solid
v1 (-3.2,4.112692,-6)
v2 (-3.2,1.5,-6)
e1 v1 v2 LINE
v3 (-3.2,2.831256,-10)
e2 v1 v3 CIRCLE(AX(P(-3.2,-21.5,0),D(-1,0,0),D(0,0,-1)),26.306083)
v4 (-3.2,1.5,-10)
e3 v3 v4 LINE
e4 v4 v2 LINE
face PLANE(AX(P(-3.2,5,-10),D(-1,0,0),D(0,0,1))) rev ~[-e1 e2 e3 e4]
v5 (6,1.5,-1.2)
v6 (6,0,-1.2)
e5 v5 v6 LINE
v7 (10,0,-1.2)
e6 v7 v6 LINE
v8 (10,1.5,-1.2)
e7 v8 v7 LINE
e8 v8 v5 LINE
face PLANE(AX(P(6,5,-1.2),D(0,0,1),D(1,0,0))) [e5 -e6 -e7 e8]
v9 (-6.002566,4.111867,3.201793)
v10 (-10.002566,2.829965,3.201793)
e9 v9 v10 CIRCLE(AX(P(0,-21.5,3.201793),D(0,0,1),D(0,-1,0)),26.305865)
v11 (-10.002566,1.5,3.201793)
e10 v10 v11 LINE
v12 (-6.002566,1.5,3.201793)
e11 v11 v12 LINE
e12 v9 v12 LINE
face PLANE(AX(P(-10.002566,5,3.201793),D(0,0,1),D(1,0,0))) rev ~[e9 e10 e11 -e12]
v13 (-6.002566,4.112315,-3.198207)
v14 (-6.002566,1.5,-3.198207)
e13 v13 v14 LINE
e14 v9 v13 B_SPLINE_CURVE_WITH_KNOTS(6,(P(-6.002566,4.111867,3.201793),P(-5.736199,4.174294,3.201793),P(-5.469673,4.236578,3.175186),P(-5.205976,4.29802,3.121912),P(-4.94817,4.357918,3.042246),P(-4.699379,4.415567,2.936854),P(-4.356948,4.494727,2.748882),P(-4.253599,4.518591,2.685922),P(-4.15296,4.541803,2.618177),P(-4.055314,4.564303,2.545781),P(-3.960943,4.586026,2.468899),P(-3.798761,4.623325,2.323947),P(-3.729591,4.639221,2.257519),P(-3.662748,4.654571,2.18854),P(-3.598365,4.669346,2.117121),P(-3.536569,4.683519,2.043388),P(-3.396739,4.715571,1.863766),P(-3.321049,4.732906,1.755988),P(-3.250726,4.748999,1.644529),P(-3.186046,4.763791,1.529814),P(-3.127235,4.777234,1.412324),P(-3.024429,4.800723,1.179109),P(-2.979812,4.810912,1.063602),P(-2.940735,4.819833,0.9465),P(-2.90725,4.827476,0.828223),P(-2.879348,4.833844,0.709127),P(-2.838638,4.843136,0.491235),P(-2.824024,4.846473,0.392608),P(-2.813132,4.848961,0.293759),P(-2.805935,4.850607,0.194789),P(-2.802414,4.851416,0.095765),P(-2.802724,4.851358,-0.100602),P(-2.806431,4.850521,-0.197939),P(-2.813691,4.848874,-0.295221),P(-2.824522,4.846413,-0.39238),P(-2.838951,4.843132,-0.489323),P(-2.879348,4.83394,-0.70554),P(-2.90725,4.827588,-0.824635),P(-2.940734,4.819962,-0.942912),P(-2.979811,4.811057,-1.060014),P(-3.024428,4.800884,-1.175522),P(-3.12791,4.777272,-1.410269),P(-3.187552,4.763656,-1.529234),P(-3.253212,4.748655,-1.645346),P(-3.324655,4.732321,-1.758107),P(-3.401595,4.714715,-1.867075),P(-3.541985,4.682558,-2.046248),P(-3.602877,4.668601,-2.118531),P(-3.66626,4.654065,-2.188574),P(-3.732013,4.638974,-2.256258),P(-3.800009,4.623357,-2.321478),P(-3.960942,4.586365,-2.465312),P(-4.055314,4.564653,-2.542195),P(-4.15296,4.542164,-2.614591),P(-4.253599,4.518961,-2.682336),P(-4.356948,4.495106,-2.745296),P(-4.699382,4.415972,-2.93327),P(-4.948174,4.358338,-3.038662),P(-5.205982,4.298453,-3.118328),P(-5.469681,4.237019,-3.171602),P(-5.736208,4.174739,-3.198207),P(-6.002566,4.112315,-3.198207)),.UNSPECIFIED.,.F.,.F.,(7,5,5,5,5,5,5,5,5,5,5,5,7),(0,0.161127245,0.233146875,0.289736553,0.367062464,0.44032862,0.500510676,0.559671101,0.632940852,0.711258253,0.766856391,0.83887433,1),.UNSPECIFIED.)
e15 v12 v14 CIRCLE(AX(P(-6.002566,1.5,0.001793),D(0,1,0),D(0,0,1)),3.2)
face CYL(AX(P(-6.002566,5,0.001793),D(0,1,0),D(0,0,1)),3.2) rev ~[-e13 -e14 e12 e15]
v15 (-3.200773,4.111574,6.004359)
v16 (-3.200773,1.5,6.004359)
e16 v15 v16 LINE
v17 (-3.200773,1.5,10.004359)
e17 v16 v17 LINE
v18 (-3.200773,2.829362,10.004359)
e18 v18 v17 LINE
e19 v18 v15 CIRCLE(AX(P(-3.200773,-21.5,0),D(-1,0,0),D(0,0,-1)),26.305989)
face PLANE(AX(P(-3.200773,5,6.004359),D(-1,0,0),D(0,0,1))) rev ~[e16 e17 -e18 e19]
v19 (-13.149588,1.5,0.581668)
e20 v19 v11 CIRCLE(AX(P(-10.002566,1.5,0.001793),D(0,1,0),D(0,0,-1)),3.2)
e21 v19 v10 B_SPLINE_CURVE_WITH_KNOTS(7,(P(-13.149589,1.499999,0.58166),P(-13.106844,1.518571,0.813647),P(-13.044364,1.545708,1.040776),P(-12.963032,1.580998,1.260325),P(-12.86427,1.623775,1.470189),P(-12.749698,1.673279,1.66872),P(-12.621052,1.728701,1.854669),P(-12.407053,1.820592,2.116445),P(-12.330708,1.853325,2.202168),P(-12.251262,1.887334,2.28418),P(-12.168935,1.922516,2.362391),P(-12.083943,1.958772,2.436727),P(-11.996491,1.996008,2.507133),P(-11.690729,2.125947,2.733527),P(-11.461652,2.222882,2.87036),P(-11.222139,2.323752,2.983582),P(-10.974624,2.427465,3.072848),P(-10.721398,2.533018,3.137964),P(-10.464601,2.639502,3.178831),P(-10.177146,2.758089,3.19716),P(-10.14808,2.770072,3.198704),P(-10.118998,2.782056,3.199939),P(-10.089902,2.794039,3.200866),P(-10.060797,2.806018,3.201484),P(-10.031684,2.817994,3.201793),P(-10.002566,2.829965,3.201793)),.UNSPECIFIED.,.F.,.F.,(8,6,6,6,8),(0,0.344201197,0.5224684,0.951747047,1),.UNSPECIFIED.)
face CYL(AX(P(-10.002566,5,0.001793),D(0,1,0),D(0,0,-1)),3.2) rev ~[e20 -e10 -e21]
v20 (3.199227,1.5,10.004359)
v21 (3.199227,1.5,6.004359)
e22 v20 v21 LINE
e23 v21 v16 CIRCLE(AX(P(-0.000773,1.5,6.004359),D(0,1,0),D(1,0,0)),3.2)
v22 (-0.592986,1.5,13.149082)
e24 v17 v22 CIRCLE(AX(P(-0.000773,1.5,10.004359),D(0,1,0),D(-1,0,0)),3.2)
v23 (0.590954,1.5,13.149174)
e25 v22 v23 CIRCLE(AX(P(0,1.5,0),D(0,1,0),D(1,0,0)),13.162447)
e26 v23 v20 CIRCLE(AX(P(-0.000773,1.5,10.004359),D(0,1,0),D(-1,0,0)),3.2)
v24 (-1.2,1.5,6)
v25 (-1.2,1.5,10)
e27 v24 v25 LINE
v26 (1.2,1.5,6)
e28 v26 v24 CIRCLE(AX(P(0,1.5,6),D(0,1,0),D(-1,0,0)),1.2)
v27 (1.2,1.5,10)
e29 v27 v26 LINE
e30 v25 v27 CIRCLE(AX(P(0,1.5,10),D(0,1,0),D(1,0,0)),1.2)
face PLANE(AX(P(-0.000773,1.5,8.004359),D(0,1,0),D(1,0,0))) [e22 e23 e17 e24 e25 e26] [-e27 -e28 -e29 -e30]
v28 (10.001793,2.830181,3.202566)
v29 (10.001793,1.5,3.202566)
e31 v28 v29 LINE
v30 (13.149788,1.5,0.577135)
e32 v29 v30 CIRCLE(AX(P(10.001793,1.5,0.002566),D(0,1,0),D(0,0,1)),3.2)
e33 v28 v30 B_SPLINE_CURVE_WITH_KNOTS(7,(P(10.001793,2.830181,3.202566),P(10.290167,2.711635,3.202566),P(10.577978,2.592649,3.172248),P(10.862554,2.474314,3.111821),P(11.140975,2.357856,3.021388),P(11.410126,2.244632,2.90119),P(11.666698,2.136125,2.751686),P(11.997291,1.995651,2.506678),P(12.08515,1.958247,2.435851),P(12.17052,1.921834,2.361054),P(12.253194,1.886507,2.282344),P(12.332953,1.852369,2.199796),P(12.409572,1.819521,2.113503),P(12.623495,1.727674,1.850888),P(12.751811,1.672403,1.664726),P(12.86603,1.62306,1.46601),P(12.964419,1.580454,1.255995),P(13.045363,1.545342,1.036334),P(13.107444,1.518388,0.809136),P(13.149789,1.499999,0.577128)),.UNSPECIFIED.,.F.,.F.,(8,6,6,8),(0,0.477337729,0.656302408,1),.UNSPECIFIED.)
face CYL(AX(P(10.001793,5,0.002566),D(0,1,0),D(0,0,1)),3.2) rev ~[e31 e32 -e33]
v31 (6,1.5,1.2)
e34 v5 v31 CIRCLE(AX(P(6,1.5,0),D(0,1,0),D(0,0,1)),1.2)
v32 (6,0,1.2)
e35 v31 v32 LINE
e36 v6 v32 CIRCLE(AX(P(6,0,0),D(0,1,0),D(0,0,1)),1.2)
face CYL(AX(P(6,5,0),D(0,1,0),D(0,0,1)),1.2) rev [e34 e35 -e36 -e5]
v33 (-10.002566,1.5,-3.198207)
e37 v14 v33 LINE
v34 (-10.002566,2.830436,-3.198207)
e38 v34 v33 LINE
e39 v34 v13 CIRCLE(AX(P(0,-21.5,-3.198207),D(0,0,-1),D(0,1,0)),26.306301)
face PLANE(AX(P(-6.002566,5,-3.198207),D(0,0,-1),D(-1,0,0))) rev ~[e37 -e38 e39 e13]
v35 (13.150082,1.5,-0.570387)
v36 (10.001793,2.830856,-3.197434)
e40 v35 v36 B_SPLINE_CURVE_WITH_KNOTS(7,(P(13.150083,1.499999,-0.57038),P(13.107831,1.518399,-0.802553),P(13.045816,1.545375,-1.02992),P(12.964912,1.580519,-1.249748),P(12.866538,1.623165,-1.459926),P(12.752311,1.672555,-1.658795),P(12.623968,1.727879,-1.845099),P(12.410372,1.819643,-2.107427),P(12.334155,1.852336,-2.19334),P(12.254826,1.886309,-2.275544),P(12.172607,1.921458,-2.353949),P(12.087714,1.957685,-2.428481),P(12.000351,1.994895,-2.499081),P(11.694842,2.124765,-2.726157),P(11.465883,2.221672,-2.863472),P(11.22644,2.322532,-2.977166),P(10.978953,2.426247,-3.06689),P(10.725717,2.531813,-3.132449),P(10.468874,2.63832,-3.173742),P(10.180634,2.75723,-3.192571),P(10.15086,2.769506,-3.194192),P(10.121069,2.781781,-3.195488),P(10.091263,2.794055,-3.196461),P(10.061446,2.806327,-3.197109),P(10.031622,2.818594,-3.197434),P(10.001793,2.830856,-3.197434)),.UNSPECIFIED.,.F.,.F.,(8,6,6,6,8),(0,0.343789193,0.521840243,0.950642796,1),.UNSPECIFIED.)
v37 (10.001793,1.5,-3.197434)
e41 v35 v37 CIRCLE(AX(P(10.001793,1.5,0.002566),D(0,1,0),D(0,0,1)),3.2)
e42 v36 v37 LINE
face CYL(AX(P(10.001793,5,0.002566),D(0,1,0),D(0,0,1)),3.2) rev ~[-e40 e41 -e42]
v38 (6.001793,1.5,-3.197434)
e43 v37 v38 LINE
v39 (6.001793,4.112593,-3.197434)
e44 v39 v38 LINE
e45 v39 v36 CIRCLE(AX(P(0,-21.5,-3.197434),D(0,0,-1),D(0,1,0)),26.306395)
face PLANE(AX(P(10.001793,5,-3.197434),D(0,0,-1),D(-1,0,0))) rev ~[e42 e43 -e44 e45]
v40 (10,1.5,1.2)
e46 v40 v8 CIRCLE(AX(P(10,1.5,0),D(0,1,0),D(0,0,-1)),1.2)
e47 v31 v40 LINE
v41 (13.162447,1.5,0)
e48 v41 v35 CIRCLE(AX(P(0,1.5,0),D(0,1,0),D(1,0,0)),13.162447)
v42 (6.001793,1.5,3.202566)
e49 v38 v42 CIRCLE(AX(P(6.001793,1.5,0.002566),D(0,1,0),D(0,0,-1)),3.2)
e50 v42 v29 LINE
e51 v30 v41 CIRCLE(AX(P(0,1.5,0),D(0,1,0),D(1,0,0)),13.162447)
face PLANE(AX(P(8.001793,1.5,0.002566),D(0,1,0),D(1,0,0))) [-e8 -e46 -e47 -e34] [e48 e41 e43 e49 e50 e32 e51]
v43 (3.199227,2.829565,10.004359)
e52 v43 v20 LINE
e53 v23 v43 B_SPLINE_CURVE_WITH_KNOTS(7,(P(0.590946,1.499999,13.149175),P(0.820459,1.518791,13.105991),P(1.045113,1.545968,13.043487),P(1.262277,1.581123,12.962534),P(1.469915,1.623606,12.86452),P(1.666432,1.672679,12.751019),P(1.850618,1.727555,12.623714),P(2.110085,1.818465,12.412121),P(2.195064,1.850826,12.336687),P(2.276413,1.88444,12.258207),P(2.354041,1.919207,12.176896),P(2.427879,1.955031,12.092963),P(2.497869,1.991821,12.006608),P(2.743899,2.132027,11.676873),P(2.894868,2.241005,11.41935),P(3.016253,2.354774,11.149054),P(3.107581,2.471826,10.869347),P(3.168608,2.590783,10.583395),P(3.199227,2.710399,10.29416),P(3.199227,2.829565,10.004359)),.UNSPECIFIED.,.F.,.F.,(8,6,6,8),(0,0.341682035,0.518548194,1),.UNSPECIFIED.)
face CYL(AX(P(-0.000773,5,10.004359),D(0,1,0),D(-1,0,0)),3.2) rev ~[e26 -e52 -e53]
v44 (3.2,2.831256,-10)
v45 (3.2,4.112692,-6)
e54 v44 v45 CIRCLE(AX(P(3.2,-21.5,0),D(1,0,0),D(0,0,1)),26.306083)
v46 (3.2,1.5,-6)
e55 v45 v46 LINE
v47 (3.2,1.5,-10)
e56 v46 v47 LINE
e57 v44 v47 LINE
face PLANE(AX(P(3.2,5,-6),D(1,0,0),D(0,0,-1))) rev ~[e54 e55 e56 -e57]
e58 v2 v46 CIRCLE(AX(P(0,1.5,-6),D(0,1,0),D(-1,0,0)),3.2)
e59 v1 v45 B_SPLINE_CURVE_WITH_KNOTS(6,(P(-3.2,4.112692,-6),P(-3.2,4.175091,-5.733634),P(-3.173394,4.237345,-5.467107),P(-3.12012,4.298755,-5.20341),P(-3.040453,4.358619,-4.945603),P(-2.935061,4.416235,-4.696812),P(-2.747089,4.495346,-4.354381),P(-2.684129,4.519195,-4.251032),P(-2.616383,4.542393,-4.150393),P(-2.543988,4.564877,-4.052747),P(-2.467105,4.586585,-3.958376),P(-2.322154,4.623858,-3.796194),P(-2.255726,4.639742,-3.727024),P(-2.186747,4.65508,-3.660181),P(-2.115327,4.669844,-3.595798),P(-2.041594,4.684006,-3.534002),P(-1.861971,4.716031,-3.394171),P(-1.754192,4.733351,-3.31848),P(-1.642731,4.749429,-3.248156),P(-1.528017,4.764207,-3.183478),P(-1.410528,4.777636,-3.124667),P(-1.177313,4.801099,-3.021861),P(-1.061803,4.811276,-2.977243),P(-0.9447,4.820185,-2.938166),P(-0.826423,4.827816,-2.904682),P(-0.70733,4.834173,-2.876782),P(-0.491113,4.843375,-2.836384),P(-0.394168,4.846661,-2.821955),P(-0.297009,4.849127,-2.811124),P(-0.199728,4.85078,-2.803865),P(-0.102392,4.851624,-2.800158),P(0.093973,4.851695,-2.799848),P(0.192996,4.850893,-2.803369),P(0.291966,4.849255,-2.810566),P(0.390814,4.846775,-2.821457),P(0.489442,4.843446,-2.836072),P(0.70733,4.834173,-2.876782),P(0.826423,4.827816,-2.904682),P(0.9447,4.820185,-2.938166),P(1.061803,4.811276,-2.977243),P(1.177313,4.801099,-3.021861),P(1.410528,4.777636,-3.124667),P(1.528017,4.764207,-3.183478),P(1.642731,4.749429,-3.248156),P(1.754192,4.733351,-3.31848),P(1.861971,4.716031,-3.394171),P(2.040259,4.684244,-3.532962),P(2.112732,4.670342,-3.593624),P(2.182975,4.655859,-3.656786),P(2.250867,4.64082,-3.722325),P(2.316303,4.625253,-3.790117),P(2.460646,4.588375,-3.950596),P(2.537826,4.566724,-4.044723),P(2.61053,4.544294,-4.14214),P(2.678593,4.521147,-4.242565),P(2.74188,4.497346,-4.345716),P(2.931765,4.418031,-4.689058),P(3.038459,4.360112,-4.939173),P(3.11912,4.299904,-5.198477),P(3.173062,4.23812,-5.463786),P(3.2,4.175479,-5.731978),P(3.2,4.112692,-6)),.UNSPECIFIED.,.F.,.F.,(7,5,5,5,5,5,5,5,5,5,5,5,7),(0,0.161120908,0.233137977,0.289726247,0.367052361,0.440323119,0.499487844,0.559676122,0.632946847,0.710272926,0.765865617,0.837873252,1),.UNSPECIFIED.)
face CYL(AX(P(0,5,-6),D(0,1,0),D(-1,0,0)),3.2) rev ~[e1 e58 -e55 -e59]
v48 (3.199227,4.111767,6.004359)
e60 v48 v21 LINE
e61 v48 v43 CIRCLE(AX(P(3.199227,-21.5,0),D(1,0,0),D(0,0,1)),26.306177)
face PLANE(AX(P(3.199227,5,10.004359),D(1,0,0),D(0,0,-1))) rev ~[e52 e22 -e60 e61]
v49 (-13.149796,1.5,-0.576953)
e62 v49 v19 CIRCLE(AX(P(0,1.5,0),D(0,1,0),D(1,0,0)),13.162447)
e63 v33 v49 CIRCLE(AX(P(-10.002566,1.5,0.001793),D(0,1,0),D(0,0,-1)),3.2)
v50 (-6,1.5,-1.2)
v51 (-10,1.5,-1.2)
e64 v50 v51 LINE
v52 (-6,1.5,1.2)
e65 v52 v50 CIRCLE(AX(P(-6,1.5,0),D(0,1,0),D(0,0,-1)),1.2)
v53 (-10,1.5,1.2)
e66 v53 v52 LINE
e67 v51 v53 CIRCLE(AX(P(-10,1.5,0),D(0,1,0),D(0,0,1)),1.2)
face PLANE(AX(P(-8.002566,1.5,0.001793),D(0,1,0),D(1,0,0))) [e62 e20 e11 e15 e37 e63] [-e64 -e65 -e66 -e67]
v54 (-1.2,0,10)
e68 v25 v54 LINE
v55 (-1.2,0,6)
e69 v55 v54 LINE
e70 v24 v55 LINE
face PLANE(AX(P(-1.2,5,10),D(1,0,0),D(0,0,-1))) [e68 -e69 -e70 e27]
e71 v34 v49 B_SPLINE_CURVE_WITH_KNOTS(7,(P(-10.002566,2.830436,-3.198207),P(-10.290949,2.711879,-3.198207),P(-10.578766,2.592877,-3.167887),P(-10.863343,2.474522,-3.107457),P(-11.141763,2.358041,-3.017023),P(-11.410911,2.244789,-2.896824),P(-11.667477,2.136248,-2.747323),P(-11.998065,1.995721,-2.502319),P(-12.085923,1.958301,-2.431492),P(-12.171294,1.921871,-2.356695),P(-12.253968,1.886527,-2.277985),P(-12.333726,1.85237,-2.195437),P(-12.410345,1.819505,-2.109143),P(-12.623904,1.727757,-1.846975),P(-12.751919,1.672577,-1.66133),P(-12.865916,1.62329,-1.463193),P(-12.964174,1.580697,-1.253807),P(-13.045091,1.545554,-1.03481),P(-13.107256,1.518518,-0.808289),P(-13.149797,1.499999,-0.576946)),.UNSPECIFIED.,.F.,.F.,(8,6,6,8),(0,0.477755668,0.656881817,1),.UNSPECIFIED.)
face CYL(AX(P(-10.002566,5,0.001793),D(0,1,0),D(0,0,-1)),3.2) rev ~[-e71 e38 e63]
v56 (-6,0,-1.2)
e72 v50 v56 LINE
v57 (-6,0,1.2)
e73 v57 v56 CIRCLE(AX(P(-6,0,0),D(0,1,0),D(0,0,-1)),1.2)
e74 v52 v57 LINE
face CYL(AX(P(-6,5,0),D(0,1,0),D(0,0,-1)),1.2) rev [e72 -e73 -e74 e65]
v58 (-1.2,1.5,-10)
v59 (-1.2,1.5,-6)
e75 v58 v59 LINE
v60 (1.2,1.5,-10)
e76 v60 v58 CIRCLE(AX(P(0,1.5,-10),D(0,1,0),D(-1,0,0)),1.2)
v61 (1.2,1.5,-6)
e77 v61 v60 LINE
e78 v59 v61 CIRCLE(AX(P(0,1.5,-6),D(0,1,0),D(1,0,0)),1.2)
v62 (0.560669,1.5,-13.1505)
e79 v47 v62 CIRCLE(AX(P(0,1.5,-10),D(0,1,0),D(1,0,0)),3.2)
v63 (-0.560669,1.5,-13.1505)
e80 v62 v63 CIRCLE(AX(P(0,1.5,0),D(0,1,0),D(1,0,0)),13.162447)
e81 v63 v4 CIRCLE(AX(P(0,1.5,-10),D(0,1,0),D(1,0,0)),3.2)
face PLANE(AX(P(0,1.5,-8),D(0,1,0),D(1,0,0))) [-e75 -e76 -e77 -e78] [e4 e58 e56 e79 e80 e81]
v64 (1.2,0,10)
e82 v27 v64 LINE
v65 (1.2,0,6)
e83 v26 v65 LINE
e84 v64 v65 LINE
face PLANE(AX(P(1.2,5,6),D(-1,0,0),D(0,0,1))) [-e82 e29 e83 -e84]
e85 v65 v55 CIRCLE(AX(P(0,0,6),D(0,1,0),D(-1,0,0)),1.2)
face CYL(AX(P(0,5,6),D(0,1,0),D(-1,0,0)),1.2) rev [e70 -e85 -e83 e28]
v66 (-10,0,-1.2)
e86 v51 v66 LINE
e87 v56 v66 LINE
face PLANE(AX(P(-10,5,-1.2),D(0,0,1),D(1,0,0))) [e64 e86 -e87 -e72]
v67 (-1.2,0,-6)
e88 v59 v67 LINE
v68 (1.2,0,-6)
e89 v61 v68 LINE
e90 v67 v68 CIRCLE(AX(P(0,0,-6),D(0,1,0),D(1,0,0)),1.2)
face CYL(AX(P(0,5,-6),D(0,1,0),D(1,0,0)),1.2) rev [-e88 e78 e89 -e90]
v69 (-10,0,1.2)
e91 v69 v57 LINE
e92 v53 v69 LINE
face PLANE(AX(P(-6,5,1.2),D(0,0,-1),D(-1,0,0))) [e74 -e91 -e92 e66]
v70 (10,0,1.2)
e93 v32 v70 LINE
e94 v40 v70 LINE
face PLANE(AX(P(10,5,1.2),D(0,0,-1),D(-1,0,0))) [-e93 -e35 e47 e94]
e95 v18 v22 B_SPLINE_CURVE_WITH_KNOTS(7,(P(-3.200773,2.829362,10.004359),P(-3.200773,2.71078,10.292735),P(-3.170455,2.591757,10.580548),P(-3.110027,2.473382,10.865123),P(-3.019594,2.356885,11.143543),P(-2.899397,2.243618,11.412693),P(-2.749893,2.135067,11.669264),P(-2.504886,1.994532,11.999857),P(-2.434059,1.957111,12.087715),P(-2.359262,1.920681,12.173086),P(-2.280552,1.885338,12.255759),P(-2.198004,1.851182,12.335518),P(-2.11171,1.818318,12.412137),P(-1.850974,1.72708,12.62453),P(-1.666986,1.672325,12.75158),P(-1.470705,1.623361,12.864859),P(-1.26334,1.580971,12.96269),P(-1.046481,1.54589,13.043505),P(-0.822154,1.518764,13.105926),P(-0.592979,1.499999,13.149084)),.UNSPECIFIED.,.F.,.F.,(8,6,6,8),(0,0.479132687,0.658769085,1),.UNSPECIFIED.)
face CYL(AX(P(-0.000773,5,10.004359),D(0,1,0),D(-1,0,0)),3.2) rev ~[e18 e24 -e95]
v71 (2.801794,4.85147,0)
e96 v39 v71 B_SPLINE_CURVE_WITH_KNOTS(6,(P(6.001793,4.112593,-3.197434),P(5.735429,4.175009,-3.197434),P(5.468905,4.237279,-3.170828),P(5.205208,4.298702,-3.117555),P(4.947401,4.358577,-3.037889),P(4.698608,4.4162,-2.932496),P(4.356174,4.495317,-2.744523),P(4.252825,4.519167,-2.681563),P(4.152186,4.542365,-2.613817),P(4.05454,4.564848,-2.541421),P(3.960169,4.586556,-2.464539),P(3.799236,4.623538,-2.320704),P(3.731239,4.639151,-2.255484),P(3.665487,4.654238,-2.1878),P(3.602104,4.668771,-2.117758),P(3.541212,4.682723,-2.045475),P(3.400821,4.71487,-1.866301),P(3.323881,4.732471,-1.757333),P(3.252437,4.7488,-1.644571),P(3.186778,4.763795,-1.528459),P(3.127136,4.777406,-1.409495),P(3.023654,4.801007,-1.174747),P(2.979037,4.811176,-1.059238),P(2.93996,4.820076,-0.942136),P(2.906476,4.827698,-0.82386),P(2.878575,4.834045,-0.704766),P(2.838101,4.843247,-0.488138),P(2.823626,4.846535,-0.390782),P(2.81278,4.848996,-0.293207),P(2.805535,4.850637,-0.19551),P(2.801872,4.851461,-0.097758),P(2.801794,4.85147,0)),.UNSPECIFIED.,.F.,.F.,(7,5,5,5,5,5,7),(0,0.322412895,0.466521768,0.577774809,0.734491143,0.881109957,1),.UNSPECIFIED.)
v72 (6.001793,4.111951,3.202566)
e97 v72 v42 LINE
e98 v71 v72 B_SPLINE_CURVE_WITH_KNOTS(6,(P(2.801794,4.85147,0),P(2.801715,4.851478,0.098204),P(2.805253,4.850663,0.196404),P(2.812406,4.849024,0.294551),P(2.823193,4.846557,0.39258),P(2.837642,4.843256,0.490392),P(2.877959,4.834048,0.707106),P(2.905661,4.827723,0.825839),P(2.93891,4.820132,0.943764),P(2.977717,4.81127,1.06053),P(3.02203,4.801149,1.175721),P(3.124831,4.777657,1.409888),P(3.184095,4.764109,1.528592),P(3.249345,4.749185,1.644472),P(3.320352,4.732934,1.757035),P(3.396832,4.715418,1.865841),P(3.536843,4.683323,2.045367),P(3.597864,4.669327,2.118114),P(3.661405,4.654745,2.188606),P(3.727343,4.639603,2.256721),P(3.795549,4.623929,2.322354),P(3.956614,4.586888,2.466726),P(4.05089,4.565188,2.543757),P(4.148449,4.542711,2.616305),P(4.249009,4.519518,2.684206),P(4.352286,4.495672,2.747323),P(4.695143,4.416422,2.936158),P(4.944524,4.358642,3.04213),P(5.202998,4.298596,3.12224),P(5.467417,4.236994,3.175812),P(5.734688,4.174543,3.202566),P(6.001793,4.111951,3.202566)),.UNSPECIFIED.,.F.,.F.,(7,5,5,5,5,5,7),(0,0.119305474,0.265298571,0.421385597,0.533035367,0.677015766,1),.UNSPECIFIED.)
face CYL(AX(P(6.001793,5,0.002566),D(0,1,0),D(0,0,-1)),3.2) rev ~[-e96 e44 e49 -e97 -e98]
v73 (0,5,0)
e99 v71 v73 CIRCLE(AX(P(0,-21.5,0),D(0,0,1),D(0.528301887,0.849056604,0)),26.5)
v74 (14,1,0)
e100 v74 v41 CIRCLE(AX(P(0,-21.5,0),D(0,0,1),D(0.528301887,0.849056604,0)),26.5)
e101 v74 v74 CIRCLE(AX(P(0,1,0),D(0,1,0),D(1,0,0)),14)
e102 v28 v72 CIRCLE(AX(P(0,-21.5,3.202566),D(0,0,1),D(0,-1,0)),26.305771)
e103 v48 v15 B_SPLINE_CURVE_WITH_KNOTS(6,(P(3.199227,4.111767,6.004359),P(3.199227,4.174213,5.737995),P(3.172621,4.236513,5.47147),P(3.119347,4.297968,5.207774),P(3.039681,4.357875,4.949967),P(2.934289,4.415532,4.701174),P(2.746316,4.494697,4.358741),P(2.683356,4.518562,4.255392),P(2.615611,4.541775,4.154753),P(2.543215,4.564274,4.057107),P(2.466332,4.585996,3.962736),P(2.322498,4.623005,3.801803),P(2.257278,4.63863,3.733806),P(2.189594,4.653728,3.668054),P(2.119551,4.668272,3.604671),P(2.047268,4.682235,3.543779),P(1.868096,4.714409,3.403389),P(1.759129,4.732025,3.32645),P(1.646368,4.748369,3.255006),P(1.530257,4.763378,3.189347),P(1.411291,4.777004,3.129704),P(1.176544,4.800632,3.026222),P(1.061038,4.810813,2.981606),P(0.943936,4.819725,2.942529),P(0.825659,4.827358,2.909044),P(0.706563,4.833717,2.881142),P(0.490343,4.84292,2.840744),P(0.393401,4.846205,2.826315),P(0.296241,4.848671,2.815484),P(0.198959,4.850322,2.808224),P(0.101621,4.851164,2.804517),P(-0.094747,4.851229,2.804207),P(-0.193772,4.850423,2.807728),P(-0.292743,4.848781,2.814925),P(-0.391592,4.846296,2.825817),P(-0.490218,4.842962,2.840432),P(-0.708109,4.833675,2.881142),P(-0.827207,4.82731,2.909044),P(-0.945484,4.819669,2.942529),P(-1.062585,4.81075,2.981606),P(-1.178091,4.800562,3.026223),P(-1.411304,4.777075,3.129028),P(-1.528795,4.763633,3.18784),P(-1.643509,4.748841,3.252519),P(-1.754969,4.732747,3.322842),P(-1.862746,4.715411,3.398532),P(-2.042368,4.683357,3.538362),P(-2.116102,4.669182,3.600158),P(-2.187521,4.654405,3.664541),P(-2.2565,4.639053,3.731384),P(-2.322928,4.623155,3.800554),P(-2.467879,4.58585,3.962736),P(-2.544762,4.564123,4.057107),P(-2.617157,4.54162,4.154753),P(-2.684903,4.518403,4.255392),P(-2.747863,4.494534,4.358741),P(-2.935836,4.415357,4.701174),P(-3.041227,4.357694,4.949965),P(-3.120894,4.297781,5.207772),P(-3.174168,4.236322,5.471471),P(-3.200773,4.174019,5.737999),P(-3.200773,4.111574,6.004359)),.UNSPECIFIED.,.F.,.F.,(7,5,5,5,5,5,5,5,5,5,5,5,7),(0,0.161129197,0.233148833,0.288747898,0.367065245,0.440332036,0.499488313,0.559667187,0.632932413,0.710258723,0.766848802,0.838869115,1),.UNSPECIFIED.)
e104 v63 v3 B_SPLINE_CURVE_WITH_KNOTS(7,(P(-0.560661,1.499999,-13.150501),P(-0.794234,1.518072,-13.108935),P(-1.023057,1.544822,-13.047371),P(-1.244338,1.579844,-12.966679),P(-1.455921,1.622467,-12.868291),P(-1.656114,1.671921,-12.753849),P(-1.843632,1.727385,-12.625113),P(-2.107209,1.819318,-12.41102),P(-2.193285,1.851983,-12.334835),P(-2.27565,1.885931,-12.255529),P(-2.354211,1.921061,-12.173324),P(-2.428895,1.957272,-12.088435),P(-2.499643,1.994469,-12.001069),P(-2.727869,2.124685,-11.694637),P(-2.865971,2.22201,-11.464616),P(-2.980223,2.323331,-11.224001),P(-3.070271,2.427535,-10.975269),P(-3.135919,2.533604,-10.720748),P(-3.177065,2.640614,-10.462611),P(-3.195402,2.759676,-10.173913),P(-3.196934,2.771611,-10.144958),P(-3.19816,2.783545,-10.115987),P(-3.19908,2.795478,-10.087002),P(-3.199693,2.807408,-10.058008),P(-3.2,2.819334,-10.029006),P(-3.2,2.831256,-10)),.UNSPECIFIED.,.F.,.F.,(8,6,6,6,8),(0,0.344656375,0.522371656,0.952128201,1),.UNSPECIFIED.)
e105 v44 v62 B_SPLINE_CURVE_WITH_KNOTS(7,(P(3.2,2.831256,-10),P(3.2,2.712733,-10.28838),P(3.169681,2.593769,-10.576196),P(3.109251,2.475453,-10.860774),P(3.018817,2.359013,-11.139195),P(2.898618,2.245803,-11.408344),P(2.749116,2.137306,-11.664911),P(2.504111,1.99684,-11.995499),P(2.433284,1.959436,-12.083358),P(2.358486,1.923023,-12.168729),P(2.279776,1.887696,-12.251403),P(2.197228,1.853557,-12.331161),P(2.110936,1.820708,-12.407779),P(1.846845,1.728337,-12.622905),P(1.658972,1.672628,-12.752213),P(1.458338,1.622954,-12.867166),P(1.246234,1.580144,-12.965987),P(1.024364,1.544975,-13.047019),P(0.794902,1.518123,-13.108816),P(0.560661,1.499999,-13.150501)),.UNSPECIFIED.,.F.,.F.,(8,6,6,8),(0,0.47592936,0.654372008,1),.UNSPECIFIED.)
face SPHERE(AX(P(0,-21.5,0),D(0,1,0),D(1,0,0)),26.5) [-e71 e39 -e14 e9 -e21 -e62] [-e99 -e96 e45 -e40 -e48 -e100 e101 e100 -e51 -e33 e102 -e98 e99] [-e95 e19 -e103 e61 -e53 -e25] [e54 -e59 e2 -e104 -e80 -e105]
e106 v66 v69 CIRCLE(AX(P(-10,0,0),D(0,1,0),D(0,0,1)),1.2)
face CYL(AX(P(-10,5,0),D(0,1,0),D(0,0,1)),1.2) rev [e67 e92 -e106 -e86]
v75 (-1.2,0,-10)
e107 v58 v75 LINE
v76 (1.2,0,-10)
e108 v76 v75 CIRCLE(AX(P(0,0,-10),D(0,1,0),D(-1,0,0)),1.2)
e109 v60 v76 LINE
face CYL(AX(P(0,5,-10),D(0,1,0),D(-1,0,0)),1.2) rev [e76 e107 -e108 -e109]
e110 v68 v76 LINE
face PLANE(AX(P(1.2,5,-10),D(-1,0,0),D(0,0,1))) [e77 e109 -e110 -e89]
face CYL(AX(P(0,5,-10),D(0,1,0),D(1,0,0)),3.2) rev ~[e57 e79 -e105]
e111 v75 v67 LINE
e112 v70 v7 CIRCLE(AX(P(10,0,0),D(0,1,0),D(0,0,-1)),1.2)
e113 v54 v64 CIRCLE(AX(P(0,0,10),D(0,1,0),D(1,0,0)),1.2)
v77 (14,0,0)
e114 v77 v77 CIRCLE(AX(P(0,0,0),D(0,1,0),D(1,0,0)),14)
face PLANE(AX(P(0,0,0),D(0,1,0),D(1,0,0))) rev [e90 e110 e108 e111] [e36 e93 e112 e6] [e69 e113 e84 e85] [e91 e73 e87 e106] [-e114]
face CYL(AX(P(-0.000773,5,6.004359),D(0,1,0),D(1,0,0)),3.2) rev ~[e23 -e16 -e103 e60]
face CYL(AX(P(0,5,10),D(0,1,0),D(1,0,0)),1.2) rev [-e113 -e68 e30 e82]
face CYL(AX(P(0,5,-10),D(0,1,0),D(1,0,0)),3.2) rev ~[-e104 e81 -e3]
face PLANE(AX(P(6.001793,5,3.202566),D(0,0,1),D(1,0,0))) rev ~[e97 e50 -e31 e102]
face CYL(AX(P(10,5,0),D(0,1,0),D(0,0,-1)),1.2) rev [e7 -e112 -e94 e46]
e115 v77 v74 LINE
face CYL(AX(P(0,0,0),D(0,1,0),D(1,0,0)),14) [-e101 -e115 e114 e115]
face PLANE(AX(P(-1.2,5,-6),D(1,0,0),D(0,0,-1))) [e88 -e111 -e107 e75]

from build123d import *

# Parameters (mm, degrees)
CUT_EXTRUDE1_DEPTH = 21.420577857
CUT_EXTRUDE2_DEPTH = 3.5


with BuildPart() as part:
    # Sketch1 → Revolve1 (revolve)
    with BuildSketch(Plane.XY, mode=Mode.PRIVATE) as revolve1_sk:
        with BuildLine():
            Line((0, 0), (-14, 0))
            Line((-14, 0), (-14, 1))
            ThreePointArc((-14, 1), (-7.280109889, 3.980384612), (0, 5))
            Line((0, 5), (0, 0))
        make_face()
    revolve(revolve1_sk.sketch.rotate(Axis((0, 0, 0), (0, 1, 0)), 180), axis=Axis((0, 0, 0), (0, 1, 0)))

    # Sketch2 → Cut-Extrude1 (cut, through all)
    with BuildSketch(Plane(origin=(0, 5, 0), x_dir=(1, 0, 0), z_dir=(0, 1, 0))):
        with BuildLine():
            Line((1.2, 10), (1.2, 6))
            ThreePointArc((1.2, 6), (0, 4.8), (-1.2, 6))
            Line((-1.2, 6), (-1.2, 10))
            ThreePointArc((-1.2, 10), (0, 11.2), (1.2, 10))
        make_face()
        with BuildLine():
            Line((10, -1.2), (6, -1.2))
            ThreePointArc((6, -1.2), (4.8, 0), (6, 1.2))
            Line((6, 1.2), (10, 1.2))
            ThreePointArc((10, 1.2), (11.2, 0), (10, -1.2))
        make_face()
        with BuildLine():
            Line((-1.2, -10), (-1.2, -6))
            ThreePointArc((-1.2, -6), (0, -4.8), (1.2, -6))
            Line((1.2, -6), (1.2, -10))
            ThreePointArc((1.2, -10), (0, -11.2), (-1.2, -10))
        make_face()
        with BuildLine():
            Line((-10, 1.2), (-6, 1.2))
            ThreePointArc((-6, 1.2), (-4.8, 0), (-6, -1.2))
            Line((-6, -1.2), (-10, -1.2))
            ThreePointArc((-10, -1.2), (-11.2, 0), (-10, 1.2))
        make_face()
    extrude(amount=-CUT_EXTRUDE1_DEPTH, mode=Mode.SUBTRACT)

    # Sketch3 → Cut-Extrude2 (cut)
    with BuildSketch(Plane(origin=(0, 5, 0), x_dir=(1, 0, 0), z_dir=(0, 1, 0))):
        with BuildLine():
            Line((10.001792972, 3.197433741), (6.001792972, 3.197433741))
            ThreePointArc((6.001792972, 3.197433741), (2.801792972, -0.002566259), (6.001792972, -3.202566259))
            Line((6.001792972, -3.202566259), (10.001792972, -3.202566259))
            ThreePointArc((10.001792972, -3.202566259), (13.201792972, -0.002566259), (10.001792972, 3.197433741))
        make_face()
        with BuildLine():
            Line((3.2, 6), (3.2, 10))
            ThreePointArc((3.2, 10), (0, 13.2), (-3.2, 10))
            Line((-3.2, 10), (-3.2, 6))
            ThreePointArc((-3.2, 6), (0, 2.8), (3.2, 6))
        make_face()
        with BuildLine():
            Line((3.199226713, -10.004359231), (3.199226713, -6.004359231))
            ThreePointArc((3.199226713, -6.004359231), (-0.000773287, -2.804359231), (-3.200773287, -6.004359231))
            Line((-3.200773287, -6.004359231), (-3.200773287, -10.004359231))
            ThreePointArc((-3.200773287, -10.004359231), (-0.000773287, -13.204359231), (3.199226713, -10.004359231))
        make_face()
        with BuildLine():
            Line((-10.002566259, -3.201792972), (-6.002566259, -3.201792972))
            ThreePointArc((-6.002566259, -3.201792972), (-2.802566259, -0.001792972), (-6.002566259, 3.198207028))
            Line((-6.002566259, 3.198207028), (-10.002566259, 3.198207028))
            ThreePointArc((-10.002566259, 3.198207028), (-13.202566259, -0.001792972), (-10.002566259, -3.201792972))
        make_face()
    extrude(amount=-CUT_EXTRUDE2_DEPTH, mode=Mode.SUBTRACT)


solid = part.part
